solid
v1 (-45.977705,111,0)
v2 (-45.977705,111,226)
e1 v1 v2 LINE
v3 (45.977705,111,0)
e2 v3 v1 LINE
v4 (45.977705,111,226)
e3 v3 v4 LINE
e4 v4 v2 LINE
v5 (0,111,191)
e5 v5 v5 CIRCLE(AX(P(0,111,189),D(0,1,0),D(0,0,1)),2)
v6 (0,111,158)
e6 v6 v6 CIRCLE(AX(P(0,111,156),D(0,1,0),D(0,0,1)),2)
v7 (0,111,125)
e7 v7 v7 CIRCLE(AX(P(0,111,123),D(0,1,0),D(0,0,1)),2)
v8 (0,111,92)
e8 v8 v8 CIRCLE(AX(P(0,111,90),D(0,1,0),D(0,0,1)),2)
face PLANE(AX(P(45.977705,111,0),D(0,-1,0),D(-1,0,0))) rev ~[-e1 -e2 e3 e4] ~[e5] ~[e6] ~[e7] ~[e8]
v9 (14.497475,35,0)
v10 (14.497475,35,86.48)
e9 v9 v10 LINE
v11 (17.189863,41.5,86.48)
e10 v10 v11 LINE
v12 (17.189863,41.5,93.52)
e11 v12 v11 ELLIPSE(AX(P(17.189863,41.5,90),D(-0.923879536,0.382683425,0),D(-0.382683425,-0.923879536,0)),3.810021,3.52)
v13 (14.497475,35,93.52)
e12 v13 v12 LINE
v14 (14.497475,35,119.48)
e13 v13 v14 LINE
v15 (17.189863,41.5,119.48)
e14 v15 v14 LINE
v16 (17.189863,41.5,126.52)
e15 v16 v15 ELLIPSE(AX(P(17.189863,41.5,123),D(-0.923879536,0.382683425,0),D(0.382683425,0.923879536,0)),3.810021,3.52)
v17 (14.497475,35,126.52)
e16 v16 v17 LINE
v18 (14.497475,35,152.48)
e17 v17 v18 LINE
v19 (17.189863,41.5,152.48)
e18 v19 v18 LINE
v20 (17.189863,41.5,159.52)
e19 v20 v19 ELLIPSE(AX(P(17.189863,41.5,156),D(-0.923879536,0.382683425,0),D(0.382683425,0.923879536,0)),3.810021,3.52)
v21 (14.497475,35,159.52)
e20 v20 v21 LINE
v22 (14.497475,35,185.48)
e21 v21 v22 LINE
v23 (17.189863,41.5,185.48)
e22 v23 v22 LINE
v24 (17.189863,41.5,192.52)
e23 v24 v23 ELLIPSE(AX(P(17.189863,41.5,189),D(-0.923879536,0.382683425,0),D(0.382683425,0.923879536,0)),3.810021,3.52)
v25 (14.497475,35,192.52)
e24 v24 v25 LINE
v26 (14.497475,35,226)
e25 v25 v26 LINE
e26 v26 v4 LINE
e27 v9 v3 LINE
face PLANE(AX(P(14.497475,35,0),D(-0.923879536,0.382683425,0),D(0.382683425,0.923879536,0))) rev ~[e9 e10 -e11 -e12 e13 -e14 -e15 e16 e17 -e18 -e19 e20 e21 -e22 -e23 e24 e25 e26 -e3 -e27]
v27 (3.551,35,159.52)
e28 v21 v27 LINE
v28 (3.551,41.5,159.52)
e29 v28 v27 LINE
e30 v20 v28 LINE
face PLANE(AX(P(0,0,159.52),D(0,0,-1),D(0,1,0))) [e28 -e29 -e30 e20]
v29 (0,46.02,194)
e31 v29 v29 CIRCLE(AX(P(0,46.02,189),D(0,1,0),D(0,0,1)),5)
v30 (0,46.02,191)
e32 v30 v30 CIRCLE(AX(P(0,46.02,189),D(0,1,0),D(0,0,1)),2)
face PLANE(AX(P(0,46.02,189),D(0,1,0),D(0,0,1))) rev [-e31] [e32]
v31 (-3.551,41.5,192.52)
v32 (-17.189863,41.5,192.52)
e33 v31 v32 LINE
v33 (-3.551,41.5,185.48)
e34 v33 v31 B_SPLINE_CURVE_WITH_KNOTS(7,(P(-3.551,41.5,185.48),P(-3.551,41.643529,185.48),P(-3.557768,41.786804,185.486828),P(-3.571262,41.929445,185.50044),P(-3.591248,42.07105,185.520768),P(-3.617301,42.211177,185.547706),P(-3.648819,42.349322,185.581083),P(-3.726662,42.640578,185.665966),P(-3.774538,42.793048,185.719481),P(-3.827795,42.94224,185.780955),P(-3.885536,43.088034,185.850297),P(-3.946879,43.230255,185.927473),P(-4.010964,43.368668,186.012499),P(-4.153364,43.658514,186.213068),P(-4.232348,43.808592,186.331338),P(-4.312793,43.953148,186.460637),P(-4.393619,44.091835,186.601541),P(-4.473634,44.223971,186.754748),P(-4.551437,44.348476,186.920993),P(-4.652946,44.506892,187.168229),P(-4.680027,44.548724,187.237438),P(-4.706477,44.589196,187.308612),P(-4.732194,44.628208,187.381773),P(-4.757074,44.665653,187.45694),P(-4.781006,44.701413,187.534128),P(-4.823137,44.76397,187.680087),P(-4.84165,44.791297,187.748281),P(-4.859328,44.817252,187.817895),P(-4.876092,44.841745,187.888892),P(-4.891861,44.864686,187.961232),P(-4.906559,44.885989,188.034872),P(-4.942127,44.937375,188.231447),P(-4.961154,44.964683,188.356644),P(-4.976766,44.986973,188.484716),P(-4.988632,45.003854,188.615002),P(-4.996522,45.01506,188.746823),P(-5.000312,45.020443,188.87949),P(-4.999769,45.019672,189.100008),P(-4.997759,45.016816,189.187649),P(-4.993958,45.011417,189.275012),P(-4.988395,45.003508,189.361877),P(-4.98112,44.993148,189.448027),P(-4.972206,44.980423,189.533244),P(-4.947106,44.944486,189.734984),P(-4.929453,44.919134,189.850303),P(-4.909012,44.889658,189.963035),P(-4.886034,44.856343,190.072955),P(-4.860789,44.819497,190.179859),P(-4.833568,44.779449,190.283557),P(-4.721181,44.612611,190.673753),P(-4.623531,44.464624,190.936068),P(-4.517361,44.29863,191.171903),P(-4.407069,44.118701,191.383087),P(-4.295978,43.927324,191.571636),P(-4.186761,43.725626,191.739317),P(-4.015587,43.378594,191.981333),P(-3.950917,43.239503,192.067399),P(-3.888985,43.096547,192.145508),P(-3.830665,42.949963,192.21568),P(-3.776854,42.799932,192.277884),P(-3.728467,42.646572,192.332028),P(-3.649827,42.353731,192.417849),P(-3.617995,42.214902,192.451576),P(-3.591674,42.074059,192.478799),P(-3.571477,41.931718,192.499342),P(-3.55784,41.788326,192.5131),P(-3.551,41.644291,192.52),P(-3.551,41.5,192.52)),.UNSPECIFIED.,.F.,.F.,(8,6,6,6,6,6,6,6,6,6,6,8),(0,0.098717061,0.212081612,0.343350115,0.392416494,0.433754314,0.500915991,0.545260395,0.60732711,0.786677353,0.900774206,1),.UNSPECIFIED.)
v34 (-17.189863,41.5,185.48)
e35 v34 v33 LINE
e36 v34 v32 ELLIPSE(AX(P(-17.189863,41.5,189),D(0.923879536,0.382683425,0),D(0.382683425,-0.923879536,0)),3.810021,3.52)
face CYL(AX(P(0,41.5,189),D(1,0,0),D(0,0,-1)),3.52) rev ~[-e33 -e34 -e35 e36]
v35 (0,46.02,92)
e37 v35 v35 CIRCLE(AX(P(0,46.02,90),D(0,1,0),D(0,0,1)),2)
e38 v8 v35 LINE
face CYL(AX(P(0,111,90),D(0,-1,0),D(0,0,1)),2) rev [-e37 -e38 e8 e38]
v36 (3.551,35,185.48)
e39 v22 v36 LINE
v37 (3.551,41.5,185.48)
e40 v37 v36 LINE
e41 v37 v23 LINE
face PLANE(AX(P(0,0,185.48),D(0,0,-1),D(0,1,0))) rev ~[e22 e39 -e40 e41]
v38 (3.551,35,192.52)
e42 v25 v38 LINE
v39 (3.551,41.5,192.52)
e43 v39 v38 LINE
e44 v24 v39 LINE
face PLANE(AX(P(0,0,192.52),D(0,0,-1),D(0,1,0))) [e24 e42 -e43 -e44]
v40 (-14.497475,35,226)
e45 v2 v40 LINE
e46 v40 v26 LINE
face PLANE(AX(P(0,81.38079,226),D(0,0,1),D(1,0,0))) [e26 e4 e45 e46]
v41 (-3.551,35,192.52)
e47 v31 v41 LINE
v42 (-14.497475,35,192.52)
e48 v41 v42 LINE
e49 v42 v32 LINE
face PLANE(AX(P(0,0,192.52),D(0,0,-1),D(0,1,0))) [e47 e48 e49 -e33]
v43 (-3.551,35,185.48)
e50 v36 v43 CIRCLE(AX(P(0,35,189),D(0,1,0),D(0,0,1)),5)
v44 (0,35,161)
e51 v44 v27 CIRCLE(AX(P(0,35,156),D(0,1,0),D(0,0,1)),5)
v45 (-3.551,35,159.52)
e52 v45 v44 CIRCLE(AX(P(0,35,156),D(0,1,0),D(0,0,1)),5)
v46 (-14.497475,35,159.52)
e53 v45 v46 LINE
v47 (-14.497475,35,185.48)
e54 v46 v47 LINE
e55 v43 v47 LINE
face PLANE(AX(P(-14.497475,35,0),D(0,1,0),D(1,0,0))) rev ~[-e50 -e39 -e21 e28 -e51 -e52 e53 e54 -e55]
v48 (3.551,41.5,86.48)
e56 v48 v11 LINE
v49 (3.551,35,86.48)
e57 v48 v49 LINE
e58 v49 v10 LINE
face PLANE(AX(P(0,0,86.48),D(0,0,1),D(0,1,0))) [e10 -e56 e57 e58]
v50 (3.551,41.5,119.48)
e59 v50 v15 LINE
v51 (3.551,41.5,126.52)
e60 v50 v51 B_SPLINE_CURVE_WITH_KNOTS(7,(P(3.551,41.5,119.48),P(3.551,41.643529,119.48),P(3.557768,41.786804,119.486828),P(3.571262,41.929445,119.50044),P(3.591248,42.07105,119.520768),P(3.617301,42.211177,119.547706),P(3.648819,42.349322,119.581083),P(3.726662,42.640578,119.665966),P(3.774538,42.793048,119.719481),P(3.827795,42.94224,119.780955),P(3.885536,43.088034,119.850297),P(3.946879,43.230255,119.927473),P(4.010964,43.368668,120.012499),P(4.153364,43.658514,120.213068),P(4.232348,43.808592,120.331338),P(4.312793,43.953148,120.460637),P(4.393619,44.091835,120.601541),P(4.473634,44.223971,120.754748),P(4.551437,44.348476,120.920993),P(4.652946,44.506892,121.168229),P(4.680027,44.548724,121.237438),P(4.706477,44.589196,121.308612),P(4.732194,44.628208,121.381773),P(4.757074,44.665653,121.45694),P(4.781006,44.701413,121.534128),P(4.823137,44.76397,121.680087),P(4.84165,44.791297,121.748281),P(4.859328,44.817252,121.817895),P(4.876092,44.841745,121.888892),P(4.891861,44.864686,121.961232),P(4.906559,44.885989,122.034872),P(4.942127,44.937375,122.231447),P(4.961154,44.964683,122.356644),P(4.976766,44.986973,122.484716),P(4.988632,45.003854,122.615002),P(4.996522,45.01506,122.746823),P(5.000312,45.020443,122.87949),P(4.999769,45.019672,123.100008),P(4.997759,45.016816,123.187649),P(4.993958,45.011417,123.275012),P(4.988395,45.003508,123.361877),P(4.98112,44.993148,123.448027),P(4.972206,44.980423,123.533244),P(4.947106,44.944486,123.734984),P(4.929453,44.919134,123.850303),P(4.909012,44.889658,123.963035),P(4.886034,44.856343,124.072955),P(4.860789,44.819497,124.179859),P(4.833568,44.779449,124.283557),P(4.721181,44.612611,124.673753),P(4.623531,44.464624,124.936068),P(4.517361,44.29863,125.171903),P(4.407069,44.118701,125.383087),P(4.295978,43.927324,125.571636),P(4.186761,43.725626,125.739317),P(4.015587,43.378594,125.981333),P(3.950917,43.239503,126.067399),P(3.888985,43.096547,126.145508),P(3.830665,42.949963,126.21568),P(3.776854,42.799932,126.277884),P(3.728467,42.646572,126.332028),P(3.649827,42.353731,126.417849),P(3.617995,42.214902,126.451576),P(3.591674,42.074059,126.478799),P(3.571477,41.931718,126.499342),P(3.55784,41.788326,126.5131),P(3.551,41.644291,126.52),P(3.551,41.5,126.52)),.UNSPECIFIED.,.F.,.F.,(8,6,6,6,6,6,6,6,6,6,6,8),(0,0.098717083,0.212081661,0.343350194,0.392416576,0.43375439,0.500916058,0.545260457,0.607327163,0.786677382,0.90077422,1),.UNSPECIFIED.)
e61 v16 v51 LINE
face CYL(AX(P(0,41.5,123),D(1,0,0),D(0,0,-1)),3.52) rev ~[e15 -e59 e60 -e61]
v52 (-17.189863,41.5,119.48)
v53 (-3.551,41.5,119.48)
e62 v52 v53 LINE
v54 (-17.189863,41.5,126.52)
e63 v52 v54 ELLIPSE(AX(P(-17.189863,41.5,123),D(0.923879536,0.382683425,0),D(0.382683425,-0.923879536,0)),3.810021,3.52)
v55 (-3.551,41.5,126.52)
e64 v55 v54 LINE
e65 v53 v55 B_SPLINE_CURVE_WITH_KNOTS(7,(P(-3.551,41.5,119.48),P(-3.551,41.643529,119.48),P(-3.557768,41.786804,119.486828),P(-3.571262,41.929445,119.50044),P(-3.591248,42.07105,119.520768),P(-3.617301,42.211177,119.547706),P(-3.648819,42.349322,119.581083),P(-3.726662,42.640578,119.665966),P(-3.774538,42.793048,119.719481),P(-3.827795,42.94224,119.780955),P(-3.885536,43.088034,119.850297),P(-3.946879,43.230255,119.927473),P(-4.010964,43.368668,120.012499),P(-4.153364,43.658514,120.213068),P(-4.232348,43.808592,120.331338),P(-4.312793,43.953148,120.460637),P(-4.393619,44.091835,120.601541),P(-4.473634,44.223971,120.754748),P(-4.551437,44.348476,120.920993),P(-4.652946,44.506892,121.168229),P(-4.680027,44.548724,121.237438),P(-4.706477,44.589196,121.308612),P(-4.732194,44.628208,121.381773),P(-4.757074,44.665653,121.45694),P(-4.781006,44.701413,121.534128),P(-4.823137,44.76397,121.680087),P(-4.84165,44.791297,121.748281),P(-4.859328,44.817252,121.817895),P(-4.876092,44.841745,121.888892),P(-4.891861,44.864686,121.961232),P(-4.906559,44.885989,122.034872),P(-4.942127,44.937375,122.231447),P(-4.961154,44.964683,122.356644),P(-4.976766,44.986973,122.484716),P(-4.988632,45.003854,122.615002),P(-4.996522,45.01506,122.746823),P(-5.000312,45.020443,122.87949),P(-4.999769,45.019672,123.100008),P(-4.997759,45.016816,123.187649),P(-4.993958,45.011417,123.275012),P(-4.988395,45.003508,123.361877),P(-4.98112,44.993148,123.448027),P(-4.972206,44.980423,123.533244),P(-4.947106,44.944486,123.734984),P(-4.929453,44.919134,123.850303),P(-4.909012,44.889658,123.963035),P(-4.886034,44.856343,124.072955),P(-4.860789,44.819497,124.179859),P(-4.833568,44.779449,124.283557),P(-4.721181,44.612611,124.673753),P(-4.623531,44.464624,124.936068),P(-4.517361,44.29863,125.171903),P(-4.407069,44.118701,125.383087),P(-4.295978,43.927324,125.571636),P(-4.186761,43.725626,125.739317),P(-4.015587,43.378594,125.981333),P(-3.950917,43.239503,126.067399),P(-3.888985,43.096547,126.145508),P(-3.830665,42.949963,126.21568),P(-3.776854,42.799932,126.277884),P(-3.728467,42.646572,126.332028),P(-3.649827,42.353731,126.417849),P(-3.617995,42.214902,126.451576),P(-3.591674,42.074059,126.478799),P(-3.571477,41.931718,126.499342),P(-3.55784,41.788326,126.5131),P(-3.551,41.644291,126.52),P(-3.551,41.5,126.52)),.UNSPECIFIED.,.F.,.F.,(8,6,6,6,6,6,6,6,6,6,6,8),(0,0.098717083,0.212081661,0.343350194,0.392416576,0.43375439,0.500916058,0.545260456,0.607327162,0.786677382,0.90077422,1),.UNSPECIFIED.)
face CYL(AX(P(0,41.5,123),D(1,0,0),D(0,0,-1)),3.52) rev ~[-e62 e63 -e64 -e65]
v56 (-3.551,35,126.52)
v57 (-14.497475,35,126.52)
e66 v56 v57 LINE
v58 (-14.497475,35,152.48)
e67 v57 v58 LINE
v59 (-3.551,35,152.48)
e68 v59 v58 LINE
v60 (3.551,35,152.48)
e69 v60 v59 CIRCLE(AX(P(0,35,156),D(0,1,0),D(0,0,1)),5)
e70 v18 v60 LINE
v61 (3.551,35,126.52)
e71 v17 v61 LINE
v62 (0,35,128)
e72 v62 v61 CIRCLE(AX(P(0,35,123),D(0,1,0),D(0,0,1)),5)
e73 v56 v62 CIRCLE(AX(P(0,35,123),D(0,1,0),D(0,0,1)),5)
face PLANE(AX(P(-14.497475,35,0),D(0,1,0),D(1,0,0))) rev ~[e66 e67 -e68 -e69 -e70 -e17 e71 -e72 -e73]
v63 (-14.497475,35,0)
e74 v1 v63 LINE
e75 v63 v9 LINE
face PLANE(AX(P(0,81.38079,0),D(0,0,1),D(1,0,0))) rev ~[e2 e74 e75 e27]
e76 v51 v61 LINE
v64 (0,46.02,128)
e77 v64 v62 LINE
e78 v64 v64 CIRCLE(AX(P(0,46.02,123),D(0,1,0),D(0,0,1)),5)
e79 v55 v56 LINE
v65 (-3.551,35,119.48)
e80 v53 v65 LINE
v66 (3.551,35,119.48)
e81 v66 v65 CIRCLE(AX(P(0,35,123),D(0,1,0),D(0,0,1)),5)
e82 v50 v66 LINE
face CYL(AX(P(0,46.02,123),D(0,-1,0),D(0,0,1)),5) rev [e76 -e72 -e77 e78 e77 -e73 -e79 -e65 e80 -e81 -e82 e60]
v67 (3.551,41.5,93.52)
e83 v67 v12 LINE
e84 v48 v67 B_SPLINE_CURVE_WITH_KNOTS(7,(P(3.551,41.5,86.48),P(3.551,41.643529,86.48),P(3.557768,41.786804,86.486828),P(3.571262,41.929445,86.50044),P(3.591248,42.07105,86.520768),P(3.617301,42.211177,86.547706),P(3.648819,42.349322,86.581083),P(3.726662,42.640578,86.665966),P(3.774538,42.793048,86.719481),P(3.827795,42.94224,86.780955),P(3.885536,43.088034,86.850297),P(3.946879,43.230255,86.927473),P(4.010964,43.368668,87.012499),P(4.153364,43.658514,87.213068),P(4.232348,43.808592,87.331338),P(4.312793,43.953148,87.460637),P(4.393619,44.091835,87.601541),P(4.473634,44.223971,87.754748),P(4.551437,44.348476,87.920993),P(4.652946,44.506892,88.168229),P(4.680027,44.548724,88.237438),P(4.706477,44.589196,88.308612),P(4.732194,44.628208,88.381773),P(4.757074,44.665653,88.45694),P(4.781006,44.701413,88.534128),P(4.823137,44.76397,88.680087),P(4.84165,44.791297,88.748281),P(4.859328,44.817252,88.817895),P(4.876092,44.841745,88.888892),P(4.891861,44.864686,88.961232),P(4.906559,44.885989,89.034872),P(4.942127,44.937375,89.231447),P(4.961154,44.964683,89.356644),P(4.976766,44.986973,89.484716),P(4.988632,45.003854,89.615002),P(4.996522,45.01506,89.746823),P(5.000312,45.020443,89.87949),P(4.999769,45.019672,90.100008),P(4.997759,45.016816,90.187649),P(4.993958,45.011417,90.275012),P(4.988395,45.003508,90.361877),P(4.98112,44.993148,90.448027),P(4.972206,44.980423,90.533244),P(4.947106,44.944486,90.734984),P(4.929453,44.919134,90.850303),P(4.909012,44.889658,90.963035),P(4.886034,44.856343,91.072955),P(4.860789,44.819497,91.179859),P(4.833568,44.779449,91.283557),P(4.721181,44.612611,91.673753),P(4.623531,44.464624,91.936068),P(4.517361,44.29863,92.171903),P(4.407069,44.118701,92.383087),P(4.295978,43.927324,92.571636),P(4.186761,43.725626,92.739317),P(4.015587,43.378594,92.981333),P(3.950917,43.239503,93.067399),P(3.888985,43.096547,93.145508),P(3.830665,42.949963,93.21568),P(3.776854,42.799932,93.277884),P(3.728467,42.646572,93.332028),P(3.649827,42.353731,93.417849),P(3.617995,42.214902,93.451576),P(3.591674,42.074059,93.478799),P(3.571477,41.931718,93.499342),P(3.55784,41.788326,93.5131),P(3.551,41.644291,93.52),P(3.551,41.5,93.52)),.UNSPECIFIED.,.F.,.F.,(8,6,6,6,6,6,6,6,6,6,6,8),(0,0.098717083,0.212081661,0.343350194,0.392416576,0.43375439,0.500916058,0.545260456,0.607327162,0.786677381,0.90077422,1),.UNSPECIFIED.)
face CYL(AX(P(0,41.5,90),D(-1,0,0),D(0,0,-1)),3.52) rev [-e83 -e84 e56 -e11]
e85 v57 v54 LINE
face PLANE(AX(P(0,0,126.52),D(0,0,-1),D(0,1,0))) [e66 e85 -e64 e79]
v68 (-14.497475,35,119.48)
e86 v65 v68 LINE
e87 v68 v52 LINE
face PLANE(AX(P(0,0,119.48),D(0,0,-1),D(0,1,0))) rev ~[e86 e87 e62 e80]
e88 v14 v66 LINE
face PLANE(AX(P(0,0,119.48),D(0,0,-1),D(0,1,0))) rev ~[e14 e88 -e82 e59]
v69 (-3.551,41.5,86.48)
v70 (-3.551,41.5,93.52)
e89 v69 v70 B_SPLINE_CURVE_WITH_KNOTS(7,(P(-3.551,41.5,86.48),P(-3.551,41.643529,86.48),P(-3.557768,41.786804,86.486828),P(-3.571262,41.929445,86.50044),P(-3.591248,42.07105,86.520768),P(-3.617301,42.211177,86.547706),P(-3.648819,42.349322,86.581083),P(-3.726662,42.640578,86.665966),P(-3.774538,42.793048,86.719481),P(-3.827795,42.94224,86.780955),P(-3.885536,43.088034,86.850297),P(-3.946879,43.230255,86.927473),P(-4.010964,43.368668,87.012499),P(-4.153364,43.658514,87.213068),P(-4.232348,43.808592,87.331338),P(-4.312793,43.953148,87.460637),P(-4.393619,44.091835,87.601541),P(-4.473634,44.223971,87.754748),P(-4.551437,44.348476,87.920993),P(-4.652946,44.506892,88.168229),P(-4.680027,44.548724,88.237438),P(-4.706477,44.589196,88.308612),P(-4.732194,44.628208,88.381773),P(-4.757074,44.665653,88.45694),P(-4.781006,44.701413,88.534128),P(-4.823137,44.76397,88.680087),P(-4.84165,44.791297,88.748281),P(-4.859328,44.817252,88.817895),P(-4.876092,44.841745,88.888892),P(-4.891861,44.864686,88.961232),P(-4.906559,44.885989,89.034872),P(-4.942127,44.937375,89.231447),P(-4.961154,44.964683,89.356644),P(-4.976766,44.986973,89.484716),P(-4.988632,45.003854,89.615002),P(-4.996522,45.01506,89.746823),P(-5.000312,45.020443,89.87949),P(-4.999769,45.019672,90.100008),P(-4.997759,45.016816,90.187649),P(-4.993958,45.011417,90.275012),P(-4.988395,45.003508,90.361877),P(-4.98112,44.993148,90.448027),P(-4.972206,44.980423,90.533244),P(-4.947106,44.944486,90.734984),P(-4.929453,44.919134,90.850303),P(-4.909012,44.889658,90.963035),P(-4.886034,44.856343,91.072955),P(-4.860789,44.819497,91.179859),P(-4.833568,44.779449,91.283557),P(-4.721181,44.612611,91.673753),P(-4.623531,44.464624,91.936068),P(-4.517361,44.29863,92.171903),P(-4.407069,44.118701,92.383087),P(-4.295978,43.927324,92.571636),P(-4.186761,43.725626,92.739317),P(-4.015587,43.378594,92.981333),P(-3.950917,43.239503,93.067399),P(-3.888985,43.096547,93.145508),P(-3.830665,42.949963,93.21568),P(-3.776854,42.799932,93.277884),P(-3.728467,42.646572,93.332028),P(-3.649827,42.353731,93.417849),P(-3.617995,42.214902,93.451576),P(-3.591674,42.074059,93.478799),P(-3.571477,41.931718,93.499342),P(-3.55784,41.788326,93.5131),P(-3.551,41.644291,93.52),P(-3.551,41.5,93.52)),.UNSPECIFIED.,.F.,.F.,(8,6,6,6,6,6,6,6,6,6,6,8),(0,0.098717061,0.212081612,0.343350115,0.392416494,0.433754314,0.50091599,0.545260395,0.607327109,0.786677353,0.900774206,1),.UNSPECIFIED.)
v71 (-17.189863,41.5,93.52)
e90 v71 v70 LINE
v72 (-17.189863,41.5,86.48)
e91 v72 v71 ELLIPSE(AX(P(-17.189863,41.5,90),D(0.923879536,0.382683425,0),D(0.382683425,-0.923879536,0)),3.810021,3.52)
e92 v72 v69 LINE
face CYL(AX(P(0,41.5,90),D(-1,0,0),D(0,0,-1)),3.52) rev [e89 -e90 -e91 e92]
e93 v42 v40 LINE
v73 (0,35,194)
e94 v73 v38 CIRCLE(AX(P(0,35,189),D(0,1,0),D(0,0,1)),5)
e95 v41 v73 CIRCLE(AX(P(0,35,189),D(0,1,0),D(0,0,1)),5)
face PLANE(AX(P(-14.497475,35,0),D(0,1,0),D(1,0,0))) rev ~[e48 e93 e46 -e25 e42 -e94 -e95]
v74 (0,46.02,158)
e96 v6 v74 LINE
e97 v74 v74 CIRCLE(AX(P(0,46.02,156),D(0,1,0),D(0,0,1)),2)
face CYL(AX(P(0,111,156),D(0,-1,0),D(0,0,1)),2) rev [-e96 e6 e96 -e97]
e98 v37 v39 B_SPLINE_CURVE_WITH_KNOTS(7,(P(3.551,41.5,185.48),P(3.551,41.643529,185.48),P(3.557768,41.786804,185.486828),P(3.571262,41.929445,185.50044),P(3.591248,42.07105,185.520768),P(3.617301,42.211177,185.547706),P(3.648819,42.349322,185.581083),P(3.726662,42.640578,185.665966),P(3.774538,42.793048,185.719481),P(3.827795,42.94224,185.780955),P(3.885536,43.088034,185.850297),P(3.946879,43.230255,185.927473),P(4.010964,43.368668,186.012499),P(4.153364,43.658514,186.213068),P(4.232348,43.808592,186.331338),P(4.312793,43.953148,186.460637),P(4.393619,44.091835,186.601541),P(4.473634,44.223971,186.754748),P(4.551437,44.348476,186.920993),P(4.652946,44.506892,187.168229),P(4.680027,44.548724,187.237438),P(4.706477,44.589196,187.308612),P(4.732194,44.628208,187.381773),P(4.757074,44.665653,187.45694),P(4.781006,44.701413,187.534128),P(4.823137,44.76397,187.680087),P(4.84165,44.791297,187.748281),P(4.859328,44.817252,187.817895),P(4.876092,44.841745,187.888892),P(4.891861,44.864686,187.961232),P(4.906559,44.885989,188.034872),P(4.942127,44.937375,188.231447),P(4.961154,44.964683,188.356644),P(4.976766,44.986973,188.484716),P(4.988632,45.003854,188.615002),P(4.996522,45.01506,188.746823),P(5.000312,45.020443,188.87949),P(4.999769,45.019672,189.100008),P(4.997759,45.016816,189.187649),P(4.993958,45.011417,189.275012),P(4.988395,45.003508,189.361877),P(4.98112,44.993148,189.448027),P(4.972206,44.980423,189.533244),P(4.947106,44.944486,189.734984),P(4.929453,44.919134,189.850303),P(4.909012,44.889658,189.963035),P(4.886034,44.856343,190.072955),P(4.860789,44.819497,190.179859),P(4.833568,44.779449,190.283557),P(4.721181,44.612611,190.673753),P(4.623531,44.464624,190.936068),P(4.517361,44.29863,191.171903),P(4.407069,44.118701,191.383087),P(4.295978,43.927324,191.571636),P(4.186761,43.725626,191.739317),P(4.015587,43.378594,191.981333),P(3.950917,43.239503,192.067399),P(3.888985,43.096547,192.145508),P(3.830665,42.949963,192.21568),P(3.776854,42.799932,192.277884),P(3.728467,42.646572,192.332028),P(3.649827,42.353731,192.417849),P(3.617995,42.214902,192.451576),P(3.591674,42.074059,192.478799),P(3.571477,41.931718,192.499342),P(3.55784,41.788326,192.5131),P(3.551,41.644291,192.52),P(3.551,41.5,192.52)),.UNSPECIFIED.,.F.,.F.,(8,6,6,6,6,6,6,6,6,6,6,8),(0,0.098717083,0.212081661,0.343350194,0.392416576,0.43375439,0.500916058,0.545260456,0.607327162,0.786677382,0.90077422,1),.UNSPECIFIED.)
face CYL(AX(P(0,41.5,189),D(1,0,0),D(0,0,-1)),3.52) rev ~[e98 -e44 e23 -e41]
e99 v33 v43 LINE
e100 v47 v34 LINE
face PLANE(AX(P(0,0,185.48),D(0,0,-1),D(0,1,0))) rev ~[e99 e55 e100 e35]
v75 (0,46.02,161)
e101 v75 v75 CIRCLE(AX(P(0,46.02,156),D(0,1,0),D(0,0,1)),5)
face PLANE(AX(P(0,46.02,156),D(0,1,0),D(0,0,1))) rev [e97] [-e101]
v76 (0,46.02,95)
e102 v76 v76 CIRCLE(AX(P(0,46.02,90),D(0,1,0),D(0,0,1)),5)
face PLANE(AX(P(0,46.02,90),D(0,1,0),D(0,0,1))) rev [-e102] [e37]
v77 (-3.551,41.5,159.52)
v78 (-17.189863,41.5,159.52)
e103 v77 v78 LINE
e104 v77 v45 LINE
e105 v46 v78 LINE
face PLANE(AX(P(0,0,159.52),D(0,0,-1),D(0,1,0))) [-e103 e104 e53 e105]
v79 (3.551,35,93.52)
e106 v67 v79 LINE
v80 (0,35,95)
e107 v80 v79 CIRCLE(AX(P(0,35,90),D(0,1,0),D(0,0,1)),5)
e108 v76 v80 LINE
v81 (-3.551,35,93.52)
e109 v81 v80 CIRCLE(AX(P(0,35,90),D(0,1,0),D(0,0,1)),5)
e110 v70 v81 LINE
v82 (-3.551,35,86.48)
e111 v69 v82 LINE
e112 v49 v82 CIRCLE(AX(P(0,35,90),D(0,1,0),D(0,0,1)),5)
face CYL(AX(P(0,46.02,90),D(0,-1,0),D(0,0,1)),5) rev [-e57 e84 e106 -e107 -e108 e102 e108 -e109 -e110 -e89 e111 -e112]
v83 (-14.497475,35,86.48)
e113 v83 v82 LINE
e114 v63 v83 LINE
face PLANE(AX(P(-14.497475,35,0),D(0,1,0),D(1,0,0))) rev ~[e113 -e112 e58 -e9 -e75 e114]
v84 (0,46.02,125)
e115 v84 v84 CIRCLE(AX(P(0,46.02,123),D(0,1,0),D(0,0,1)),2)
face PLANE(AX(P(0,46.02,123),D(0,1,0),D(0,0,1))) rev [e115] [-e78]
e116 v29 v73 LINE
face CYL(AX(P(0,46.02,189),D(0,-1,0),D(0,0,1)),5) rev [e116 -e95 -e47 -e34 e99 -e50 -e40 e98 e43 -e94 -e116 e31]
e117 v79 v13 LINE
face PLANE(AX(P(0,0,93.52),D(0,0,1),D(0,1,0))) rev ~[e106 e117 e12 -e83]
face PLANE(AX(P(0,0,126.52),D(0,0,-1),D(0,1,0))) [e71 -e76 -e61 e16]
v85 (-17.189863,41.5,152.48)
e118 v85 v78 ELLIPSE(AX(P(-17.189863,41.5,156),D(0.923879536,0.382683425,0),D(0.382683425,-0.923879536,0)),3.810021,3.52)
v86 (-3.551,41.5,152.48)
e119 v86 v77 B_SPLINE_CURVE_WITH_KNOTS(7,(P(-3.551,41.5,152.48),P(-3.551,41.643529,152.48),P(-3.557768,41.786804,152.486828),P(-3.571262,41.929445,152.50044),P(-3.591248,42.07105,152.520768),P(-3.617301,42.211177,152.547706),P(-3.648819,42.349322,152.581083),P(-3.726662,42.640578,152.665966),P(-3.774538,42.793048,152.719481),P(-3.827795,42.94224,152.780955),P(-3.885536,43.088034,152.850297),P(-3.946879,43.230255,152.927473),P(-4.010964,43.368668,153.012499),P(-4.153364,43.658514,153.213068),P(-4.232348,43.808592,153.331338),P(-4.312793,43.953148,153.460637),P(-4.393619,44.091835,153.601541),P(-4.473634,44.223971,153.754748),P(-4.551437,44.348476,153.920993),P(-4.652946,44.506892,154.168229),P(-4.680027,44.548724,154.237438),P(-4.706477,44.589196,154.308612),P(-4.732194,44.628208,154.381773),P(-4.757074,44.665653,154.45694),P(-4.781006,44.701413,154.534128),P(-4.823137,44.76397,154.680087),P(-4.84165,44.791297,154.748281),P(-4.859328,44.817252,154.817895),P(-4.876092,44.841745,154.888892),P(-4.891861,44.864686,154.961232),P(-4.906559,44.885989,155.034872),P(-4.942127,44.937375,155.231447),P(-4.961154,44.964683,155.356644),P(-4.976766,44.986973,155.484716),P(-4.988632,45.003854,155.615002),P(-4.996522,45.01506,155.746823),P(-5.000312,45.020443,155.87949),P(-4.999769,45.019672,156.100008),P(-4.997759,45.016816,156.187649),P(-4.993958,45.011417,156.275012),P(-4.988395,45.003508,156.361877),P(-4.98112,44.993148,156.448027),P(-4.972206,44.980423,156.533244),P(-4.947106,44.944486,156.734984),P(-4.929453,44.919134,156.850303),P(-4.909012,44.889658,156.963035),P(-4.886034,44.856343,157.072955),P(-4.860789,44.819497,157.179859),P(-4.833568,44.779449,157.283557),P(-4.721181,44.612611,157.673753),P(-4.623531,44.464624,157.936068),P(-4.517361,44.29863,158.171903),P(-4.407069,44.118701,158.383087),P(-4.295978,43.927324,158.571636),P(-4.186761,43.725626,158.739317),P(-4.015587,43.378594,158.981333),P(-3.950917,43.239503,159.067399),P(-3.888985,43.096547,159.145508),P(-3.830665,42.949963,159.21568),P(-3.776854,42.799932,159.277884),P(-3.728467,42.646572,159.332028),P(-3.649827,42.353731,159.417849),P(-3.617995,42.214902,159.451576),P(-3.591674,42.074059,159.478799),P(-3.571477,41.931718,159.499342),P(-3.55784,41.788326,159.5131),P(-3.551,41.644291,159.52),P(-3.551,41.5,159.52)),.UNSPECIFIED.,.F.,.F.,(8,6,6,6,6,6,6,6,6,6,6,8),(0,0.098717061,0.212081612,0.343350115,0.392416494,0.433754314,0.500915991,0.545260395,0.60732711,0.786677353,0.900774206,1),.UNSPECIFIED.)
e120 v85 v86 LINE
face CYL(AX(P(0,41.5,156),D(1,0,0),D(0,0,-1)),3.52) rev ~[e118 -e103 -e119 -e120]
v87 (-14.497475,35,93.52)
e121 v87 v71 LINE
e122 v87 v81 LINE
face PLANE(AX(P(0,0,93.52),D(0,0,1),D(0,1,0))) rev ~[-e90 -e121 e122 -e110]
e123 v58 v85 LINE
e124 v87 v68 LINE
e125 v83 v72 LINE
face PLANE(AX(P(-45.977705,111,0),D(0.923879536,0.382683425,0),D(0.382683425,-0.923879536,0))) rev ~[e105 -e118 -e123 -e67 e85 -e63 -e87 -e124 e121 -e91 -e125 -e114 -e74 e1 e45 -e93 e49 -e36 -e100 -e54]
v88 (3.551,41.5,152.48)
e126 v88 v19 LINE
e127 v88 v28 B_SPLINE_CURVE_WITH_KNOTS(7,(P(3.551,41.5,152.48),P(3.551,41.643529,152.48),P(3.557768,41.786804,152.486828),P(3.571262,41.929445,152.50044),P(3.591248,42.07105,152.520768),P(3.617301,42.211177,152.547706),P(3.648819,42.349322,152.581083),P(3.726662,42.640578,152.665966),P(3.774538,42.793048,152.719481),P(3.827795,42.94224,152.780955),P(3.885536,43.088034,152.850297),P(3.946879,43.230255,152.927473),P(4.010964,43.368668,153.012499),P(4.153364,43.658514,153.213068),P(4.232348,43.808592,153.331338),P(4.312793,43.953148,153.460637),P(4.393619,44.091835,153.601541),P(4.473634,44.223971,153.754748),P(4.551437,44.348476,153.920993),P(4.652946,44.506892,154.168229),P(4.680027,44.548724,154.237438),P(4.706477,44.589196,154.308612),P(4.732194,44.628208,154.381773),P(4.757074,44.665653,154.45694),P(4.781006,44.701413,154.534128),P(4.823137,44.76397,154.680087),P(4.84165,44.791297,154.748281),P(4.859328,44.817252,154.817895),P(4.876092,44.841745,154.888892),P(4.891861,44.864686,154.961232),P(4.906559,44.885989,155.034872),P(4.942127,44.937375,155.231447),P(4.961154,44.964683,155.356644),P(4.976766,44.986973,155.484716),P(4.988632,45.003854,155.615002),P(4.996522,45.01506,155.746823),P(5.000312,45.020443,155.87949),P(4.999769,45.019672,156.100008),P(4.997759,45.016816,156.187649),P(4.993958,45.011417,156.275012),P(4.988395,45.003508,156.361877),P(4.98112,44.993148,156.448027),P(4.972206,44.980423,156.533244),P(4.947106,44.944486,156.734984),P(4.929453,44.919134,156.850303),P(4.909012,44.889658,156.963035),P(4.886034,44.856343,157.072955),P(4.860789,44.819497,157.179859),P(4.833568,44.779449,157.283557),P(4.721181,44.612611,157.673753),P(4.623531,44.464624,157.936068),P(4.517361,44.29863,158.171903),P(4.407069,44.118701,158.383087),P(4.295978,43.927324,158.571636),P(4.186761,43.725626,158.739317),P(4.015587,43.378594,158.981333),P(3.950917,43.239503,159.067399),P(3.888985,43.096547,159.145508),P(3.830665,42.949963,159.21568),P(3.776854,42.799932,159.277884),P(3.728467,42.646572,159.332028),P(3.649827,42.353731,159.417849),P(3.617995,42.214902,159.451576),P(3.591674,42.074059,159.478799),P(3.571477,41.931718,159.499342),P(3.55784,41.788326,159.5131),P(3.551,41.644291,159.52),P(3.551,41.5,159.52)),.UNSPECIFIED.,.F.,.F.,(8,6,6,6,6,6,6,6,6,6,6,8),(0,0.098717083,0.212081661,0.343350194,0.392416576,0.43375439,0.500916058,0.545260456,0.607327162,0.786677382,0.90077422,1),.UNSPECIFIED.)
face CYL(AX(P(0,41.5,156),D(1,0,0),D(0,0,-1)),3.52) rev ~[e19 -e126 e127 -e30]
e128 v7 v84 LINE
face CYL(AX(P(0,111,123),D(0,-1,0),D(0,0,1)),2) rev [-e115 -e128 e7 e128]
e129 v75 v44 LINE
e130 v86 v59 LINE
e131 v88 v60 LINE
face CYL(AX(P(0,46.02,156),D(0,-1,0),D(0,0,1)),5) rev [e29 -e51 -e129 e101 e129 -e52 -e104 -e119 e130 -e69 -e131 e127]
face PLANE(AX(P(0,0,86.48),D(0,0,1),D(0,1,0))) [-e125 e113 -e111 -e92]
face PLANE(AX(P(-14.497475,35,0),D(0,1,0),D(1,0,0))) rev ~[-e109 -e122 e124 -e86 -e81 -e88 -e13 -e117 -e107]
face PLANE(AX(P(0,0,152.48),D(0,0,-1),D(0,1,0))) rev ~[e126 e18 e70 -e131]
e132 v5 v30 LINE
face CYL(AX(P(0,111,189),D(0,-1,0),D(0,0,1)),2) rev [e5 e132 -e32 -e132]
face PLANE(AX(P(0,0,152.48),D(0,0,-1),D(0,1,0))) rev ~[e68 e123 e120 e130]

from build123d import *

# Parameters (mm, degrees)
PAD_DEPTH              = 226
POCKET_DEPTH           = 45.978705
POCKET_DEPTH_BACK      = 45.978705
LINEARPATTERN_COUNT    = 4
LINEARPATTERN_PITCH    = 33
LINEARPATTERN001_COUNT = 4
LINEARPATTERN001_PITCH = 33


with BuildPart() as part:
    # Sketch → Pad (new body)
    with BuildSketch(Plane.XY):
        Polygon((45.977705, 111), (-45.977705, 111), (-14.497475, 35), (14.497475, 35), align=None)
    extrude(amount=PAD_DEPTH)

    # Sketch001 → Pocket (cut, two sides)
    with BuildSketch(Plane.YZ) as pocket_sk:
        with BuildLine():
            ThreePointArc((0, 93.52), (-3.52, 90), (0, 86.48))
            Line((0, 86.48), (41.5, 86.48))
            ThreePointArc((41.5, 86.48), (45.02, 90), (41.5, 93.52))
            Line((0, 93.52), (41.5, 93.52))
        make_face()
    pocket = extrude(amount=-POCKET_DEPTH, mode=Mode.SUBTRACT) + extrude(pocket_sk.sketch, amount=POCKET_DEPTH_BACK, mode=Mode.SUBTRACT)

    # LinearPattern: Pocket ×4
    with Locations(*[(0, 0, i * LINEARPATTERN_PITCH) for i in range(1, LINEARPATTERN_COUNT)]):
        add(pocket, mode=Mode.SUBTRACT)

    # Sketch002 → Groove (revolve, cut)
    with BuildSketch(Plane.YZ):
        Polygon((35, 90), (111, 90), (111, 92), (46.02, 92), (46.02, 95), (35, 95), align=None)
    groove = revolve(axis=Axis((0, 35, 90), (0, 1, 0)), mode=Mode.SUBTRACT)

    # LinearPattern001: Groove ×4
    with Locations(*[(0, 0, i * LINEARPATTERN001_PITCH) for i in range(1, LINEARPATTERN001_COUNT)]):
        add(groove, mode=Mode.SUBTRACT)


solid = part.part
